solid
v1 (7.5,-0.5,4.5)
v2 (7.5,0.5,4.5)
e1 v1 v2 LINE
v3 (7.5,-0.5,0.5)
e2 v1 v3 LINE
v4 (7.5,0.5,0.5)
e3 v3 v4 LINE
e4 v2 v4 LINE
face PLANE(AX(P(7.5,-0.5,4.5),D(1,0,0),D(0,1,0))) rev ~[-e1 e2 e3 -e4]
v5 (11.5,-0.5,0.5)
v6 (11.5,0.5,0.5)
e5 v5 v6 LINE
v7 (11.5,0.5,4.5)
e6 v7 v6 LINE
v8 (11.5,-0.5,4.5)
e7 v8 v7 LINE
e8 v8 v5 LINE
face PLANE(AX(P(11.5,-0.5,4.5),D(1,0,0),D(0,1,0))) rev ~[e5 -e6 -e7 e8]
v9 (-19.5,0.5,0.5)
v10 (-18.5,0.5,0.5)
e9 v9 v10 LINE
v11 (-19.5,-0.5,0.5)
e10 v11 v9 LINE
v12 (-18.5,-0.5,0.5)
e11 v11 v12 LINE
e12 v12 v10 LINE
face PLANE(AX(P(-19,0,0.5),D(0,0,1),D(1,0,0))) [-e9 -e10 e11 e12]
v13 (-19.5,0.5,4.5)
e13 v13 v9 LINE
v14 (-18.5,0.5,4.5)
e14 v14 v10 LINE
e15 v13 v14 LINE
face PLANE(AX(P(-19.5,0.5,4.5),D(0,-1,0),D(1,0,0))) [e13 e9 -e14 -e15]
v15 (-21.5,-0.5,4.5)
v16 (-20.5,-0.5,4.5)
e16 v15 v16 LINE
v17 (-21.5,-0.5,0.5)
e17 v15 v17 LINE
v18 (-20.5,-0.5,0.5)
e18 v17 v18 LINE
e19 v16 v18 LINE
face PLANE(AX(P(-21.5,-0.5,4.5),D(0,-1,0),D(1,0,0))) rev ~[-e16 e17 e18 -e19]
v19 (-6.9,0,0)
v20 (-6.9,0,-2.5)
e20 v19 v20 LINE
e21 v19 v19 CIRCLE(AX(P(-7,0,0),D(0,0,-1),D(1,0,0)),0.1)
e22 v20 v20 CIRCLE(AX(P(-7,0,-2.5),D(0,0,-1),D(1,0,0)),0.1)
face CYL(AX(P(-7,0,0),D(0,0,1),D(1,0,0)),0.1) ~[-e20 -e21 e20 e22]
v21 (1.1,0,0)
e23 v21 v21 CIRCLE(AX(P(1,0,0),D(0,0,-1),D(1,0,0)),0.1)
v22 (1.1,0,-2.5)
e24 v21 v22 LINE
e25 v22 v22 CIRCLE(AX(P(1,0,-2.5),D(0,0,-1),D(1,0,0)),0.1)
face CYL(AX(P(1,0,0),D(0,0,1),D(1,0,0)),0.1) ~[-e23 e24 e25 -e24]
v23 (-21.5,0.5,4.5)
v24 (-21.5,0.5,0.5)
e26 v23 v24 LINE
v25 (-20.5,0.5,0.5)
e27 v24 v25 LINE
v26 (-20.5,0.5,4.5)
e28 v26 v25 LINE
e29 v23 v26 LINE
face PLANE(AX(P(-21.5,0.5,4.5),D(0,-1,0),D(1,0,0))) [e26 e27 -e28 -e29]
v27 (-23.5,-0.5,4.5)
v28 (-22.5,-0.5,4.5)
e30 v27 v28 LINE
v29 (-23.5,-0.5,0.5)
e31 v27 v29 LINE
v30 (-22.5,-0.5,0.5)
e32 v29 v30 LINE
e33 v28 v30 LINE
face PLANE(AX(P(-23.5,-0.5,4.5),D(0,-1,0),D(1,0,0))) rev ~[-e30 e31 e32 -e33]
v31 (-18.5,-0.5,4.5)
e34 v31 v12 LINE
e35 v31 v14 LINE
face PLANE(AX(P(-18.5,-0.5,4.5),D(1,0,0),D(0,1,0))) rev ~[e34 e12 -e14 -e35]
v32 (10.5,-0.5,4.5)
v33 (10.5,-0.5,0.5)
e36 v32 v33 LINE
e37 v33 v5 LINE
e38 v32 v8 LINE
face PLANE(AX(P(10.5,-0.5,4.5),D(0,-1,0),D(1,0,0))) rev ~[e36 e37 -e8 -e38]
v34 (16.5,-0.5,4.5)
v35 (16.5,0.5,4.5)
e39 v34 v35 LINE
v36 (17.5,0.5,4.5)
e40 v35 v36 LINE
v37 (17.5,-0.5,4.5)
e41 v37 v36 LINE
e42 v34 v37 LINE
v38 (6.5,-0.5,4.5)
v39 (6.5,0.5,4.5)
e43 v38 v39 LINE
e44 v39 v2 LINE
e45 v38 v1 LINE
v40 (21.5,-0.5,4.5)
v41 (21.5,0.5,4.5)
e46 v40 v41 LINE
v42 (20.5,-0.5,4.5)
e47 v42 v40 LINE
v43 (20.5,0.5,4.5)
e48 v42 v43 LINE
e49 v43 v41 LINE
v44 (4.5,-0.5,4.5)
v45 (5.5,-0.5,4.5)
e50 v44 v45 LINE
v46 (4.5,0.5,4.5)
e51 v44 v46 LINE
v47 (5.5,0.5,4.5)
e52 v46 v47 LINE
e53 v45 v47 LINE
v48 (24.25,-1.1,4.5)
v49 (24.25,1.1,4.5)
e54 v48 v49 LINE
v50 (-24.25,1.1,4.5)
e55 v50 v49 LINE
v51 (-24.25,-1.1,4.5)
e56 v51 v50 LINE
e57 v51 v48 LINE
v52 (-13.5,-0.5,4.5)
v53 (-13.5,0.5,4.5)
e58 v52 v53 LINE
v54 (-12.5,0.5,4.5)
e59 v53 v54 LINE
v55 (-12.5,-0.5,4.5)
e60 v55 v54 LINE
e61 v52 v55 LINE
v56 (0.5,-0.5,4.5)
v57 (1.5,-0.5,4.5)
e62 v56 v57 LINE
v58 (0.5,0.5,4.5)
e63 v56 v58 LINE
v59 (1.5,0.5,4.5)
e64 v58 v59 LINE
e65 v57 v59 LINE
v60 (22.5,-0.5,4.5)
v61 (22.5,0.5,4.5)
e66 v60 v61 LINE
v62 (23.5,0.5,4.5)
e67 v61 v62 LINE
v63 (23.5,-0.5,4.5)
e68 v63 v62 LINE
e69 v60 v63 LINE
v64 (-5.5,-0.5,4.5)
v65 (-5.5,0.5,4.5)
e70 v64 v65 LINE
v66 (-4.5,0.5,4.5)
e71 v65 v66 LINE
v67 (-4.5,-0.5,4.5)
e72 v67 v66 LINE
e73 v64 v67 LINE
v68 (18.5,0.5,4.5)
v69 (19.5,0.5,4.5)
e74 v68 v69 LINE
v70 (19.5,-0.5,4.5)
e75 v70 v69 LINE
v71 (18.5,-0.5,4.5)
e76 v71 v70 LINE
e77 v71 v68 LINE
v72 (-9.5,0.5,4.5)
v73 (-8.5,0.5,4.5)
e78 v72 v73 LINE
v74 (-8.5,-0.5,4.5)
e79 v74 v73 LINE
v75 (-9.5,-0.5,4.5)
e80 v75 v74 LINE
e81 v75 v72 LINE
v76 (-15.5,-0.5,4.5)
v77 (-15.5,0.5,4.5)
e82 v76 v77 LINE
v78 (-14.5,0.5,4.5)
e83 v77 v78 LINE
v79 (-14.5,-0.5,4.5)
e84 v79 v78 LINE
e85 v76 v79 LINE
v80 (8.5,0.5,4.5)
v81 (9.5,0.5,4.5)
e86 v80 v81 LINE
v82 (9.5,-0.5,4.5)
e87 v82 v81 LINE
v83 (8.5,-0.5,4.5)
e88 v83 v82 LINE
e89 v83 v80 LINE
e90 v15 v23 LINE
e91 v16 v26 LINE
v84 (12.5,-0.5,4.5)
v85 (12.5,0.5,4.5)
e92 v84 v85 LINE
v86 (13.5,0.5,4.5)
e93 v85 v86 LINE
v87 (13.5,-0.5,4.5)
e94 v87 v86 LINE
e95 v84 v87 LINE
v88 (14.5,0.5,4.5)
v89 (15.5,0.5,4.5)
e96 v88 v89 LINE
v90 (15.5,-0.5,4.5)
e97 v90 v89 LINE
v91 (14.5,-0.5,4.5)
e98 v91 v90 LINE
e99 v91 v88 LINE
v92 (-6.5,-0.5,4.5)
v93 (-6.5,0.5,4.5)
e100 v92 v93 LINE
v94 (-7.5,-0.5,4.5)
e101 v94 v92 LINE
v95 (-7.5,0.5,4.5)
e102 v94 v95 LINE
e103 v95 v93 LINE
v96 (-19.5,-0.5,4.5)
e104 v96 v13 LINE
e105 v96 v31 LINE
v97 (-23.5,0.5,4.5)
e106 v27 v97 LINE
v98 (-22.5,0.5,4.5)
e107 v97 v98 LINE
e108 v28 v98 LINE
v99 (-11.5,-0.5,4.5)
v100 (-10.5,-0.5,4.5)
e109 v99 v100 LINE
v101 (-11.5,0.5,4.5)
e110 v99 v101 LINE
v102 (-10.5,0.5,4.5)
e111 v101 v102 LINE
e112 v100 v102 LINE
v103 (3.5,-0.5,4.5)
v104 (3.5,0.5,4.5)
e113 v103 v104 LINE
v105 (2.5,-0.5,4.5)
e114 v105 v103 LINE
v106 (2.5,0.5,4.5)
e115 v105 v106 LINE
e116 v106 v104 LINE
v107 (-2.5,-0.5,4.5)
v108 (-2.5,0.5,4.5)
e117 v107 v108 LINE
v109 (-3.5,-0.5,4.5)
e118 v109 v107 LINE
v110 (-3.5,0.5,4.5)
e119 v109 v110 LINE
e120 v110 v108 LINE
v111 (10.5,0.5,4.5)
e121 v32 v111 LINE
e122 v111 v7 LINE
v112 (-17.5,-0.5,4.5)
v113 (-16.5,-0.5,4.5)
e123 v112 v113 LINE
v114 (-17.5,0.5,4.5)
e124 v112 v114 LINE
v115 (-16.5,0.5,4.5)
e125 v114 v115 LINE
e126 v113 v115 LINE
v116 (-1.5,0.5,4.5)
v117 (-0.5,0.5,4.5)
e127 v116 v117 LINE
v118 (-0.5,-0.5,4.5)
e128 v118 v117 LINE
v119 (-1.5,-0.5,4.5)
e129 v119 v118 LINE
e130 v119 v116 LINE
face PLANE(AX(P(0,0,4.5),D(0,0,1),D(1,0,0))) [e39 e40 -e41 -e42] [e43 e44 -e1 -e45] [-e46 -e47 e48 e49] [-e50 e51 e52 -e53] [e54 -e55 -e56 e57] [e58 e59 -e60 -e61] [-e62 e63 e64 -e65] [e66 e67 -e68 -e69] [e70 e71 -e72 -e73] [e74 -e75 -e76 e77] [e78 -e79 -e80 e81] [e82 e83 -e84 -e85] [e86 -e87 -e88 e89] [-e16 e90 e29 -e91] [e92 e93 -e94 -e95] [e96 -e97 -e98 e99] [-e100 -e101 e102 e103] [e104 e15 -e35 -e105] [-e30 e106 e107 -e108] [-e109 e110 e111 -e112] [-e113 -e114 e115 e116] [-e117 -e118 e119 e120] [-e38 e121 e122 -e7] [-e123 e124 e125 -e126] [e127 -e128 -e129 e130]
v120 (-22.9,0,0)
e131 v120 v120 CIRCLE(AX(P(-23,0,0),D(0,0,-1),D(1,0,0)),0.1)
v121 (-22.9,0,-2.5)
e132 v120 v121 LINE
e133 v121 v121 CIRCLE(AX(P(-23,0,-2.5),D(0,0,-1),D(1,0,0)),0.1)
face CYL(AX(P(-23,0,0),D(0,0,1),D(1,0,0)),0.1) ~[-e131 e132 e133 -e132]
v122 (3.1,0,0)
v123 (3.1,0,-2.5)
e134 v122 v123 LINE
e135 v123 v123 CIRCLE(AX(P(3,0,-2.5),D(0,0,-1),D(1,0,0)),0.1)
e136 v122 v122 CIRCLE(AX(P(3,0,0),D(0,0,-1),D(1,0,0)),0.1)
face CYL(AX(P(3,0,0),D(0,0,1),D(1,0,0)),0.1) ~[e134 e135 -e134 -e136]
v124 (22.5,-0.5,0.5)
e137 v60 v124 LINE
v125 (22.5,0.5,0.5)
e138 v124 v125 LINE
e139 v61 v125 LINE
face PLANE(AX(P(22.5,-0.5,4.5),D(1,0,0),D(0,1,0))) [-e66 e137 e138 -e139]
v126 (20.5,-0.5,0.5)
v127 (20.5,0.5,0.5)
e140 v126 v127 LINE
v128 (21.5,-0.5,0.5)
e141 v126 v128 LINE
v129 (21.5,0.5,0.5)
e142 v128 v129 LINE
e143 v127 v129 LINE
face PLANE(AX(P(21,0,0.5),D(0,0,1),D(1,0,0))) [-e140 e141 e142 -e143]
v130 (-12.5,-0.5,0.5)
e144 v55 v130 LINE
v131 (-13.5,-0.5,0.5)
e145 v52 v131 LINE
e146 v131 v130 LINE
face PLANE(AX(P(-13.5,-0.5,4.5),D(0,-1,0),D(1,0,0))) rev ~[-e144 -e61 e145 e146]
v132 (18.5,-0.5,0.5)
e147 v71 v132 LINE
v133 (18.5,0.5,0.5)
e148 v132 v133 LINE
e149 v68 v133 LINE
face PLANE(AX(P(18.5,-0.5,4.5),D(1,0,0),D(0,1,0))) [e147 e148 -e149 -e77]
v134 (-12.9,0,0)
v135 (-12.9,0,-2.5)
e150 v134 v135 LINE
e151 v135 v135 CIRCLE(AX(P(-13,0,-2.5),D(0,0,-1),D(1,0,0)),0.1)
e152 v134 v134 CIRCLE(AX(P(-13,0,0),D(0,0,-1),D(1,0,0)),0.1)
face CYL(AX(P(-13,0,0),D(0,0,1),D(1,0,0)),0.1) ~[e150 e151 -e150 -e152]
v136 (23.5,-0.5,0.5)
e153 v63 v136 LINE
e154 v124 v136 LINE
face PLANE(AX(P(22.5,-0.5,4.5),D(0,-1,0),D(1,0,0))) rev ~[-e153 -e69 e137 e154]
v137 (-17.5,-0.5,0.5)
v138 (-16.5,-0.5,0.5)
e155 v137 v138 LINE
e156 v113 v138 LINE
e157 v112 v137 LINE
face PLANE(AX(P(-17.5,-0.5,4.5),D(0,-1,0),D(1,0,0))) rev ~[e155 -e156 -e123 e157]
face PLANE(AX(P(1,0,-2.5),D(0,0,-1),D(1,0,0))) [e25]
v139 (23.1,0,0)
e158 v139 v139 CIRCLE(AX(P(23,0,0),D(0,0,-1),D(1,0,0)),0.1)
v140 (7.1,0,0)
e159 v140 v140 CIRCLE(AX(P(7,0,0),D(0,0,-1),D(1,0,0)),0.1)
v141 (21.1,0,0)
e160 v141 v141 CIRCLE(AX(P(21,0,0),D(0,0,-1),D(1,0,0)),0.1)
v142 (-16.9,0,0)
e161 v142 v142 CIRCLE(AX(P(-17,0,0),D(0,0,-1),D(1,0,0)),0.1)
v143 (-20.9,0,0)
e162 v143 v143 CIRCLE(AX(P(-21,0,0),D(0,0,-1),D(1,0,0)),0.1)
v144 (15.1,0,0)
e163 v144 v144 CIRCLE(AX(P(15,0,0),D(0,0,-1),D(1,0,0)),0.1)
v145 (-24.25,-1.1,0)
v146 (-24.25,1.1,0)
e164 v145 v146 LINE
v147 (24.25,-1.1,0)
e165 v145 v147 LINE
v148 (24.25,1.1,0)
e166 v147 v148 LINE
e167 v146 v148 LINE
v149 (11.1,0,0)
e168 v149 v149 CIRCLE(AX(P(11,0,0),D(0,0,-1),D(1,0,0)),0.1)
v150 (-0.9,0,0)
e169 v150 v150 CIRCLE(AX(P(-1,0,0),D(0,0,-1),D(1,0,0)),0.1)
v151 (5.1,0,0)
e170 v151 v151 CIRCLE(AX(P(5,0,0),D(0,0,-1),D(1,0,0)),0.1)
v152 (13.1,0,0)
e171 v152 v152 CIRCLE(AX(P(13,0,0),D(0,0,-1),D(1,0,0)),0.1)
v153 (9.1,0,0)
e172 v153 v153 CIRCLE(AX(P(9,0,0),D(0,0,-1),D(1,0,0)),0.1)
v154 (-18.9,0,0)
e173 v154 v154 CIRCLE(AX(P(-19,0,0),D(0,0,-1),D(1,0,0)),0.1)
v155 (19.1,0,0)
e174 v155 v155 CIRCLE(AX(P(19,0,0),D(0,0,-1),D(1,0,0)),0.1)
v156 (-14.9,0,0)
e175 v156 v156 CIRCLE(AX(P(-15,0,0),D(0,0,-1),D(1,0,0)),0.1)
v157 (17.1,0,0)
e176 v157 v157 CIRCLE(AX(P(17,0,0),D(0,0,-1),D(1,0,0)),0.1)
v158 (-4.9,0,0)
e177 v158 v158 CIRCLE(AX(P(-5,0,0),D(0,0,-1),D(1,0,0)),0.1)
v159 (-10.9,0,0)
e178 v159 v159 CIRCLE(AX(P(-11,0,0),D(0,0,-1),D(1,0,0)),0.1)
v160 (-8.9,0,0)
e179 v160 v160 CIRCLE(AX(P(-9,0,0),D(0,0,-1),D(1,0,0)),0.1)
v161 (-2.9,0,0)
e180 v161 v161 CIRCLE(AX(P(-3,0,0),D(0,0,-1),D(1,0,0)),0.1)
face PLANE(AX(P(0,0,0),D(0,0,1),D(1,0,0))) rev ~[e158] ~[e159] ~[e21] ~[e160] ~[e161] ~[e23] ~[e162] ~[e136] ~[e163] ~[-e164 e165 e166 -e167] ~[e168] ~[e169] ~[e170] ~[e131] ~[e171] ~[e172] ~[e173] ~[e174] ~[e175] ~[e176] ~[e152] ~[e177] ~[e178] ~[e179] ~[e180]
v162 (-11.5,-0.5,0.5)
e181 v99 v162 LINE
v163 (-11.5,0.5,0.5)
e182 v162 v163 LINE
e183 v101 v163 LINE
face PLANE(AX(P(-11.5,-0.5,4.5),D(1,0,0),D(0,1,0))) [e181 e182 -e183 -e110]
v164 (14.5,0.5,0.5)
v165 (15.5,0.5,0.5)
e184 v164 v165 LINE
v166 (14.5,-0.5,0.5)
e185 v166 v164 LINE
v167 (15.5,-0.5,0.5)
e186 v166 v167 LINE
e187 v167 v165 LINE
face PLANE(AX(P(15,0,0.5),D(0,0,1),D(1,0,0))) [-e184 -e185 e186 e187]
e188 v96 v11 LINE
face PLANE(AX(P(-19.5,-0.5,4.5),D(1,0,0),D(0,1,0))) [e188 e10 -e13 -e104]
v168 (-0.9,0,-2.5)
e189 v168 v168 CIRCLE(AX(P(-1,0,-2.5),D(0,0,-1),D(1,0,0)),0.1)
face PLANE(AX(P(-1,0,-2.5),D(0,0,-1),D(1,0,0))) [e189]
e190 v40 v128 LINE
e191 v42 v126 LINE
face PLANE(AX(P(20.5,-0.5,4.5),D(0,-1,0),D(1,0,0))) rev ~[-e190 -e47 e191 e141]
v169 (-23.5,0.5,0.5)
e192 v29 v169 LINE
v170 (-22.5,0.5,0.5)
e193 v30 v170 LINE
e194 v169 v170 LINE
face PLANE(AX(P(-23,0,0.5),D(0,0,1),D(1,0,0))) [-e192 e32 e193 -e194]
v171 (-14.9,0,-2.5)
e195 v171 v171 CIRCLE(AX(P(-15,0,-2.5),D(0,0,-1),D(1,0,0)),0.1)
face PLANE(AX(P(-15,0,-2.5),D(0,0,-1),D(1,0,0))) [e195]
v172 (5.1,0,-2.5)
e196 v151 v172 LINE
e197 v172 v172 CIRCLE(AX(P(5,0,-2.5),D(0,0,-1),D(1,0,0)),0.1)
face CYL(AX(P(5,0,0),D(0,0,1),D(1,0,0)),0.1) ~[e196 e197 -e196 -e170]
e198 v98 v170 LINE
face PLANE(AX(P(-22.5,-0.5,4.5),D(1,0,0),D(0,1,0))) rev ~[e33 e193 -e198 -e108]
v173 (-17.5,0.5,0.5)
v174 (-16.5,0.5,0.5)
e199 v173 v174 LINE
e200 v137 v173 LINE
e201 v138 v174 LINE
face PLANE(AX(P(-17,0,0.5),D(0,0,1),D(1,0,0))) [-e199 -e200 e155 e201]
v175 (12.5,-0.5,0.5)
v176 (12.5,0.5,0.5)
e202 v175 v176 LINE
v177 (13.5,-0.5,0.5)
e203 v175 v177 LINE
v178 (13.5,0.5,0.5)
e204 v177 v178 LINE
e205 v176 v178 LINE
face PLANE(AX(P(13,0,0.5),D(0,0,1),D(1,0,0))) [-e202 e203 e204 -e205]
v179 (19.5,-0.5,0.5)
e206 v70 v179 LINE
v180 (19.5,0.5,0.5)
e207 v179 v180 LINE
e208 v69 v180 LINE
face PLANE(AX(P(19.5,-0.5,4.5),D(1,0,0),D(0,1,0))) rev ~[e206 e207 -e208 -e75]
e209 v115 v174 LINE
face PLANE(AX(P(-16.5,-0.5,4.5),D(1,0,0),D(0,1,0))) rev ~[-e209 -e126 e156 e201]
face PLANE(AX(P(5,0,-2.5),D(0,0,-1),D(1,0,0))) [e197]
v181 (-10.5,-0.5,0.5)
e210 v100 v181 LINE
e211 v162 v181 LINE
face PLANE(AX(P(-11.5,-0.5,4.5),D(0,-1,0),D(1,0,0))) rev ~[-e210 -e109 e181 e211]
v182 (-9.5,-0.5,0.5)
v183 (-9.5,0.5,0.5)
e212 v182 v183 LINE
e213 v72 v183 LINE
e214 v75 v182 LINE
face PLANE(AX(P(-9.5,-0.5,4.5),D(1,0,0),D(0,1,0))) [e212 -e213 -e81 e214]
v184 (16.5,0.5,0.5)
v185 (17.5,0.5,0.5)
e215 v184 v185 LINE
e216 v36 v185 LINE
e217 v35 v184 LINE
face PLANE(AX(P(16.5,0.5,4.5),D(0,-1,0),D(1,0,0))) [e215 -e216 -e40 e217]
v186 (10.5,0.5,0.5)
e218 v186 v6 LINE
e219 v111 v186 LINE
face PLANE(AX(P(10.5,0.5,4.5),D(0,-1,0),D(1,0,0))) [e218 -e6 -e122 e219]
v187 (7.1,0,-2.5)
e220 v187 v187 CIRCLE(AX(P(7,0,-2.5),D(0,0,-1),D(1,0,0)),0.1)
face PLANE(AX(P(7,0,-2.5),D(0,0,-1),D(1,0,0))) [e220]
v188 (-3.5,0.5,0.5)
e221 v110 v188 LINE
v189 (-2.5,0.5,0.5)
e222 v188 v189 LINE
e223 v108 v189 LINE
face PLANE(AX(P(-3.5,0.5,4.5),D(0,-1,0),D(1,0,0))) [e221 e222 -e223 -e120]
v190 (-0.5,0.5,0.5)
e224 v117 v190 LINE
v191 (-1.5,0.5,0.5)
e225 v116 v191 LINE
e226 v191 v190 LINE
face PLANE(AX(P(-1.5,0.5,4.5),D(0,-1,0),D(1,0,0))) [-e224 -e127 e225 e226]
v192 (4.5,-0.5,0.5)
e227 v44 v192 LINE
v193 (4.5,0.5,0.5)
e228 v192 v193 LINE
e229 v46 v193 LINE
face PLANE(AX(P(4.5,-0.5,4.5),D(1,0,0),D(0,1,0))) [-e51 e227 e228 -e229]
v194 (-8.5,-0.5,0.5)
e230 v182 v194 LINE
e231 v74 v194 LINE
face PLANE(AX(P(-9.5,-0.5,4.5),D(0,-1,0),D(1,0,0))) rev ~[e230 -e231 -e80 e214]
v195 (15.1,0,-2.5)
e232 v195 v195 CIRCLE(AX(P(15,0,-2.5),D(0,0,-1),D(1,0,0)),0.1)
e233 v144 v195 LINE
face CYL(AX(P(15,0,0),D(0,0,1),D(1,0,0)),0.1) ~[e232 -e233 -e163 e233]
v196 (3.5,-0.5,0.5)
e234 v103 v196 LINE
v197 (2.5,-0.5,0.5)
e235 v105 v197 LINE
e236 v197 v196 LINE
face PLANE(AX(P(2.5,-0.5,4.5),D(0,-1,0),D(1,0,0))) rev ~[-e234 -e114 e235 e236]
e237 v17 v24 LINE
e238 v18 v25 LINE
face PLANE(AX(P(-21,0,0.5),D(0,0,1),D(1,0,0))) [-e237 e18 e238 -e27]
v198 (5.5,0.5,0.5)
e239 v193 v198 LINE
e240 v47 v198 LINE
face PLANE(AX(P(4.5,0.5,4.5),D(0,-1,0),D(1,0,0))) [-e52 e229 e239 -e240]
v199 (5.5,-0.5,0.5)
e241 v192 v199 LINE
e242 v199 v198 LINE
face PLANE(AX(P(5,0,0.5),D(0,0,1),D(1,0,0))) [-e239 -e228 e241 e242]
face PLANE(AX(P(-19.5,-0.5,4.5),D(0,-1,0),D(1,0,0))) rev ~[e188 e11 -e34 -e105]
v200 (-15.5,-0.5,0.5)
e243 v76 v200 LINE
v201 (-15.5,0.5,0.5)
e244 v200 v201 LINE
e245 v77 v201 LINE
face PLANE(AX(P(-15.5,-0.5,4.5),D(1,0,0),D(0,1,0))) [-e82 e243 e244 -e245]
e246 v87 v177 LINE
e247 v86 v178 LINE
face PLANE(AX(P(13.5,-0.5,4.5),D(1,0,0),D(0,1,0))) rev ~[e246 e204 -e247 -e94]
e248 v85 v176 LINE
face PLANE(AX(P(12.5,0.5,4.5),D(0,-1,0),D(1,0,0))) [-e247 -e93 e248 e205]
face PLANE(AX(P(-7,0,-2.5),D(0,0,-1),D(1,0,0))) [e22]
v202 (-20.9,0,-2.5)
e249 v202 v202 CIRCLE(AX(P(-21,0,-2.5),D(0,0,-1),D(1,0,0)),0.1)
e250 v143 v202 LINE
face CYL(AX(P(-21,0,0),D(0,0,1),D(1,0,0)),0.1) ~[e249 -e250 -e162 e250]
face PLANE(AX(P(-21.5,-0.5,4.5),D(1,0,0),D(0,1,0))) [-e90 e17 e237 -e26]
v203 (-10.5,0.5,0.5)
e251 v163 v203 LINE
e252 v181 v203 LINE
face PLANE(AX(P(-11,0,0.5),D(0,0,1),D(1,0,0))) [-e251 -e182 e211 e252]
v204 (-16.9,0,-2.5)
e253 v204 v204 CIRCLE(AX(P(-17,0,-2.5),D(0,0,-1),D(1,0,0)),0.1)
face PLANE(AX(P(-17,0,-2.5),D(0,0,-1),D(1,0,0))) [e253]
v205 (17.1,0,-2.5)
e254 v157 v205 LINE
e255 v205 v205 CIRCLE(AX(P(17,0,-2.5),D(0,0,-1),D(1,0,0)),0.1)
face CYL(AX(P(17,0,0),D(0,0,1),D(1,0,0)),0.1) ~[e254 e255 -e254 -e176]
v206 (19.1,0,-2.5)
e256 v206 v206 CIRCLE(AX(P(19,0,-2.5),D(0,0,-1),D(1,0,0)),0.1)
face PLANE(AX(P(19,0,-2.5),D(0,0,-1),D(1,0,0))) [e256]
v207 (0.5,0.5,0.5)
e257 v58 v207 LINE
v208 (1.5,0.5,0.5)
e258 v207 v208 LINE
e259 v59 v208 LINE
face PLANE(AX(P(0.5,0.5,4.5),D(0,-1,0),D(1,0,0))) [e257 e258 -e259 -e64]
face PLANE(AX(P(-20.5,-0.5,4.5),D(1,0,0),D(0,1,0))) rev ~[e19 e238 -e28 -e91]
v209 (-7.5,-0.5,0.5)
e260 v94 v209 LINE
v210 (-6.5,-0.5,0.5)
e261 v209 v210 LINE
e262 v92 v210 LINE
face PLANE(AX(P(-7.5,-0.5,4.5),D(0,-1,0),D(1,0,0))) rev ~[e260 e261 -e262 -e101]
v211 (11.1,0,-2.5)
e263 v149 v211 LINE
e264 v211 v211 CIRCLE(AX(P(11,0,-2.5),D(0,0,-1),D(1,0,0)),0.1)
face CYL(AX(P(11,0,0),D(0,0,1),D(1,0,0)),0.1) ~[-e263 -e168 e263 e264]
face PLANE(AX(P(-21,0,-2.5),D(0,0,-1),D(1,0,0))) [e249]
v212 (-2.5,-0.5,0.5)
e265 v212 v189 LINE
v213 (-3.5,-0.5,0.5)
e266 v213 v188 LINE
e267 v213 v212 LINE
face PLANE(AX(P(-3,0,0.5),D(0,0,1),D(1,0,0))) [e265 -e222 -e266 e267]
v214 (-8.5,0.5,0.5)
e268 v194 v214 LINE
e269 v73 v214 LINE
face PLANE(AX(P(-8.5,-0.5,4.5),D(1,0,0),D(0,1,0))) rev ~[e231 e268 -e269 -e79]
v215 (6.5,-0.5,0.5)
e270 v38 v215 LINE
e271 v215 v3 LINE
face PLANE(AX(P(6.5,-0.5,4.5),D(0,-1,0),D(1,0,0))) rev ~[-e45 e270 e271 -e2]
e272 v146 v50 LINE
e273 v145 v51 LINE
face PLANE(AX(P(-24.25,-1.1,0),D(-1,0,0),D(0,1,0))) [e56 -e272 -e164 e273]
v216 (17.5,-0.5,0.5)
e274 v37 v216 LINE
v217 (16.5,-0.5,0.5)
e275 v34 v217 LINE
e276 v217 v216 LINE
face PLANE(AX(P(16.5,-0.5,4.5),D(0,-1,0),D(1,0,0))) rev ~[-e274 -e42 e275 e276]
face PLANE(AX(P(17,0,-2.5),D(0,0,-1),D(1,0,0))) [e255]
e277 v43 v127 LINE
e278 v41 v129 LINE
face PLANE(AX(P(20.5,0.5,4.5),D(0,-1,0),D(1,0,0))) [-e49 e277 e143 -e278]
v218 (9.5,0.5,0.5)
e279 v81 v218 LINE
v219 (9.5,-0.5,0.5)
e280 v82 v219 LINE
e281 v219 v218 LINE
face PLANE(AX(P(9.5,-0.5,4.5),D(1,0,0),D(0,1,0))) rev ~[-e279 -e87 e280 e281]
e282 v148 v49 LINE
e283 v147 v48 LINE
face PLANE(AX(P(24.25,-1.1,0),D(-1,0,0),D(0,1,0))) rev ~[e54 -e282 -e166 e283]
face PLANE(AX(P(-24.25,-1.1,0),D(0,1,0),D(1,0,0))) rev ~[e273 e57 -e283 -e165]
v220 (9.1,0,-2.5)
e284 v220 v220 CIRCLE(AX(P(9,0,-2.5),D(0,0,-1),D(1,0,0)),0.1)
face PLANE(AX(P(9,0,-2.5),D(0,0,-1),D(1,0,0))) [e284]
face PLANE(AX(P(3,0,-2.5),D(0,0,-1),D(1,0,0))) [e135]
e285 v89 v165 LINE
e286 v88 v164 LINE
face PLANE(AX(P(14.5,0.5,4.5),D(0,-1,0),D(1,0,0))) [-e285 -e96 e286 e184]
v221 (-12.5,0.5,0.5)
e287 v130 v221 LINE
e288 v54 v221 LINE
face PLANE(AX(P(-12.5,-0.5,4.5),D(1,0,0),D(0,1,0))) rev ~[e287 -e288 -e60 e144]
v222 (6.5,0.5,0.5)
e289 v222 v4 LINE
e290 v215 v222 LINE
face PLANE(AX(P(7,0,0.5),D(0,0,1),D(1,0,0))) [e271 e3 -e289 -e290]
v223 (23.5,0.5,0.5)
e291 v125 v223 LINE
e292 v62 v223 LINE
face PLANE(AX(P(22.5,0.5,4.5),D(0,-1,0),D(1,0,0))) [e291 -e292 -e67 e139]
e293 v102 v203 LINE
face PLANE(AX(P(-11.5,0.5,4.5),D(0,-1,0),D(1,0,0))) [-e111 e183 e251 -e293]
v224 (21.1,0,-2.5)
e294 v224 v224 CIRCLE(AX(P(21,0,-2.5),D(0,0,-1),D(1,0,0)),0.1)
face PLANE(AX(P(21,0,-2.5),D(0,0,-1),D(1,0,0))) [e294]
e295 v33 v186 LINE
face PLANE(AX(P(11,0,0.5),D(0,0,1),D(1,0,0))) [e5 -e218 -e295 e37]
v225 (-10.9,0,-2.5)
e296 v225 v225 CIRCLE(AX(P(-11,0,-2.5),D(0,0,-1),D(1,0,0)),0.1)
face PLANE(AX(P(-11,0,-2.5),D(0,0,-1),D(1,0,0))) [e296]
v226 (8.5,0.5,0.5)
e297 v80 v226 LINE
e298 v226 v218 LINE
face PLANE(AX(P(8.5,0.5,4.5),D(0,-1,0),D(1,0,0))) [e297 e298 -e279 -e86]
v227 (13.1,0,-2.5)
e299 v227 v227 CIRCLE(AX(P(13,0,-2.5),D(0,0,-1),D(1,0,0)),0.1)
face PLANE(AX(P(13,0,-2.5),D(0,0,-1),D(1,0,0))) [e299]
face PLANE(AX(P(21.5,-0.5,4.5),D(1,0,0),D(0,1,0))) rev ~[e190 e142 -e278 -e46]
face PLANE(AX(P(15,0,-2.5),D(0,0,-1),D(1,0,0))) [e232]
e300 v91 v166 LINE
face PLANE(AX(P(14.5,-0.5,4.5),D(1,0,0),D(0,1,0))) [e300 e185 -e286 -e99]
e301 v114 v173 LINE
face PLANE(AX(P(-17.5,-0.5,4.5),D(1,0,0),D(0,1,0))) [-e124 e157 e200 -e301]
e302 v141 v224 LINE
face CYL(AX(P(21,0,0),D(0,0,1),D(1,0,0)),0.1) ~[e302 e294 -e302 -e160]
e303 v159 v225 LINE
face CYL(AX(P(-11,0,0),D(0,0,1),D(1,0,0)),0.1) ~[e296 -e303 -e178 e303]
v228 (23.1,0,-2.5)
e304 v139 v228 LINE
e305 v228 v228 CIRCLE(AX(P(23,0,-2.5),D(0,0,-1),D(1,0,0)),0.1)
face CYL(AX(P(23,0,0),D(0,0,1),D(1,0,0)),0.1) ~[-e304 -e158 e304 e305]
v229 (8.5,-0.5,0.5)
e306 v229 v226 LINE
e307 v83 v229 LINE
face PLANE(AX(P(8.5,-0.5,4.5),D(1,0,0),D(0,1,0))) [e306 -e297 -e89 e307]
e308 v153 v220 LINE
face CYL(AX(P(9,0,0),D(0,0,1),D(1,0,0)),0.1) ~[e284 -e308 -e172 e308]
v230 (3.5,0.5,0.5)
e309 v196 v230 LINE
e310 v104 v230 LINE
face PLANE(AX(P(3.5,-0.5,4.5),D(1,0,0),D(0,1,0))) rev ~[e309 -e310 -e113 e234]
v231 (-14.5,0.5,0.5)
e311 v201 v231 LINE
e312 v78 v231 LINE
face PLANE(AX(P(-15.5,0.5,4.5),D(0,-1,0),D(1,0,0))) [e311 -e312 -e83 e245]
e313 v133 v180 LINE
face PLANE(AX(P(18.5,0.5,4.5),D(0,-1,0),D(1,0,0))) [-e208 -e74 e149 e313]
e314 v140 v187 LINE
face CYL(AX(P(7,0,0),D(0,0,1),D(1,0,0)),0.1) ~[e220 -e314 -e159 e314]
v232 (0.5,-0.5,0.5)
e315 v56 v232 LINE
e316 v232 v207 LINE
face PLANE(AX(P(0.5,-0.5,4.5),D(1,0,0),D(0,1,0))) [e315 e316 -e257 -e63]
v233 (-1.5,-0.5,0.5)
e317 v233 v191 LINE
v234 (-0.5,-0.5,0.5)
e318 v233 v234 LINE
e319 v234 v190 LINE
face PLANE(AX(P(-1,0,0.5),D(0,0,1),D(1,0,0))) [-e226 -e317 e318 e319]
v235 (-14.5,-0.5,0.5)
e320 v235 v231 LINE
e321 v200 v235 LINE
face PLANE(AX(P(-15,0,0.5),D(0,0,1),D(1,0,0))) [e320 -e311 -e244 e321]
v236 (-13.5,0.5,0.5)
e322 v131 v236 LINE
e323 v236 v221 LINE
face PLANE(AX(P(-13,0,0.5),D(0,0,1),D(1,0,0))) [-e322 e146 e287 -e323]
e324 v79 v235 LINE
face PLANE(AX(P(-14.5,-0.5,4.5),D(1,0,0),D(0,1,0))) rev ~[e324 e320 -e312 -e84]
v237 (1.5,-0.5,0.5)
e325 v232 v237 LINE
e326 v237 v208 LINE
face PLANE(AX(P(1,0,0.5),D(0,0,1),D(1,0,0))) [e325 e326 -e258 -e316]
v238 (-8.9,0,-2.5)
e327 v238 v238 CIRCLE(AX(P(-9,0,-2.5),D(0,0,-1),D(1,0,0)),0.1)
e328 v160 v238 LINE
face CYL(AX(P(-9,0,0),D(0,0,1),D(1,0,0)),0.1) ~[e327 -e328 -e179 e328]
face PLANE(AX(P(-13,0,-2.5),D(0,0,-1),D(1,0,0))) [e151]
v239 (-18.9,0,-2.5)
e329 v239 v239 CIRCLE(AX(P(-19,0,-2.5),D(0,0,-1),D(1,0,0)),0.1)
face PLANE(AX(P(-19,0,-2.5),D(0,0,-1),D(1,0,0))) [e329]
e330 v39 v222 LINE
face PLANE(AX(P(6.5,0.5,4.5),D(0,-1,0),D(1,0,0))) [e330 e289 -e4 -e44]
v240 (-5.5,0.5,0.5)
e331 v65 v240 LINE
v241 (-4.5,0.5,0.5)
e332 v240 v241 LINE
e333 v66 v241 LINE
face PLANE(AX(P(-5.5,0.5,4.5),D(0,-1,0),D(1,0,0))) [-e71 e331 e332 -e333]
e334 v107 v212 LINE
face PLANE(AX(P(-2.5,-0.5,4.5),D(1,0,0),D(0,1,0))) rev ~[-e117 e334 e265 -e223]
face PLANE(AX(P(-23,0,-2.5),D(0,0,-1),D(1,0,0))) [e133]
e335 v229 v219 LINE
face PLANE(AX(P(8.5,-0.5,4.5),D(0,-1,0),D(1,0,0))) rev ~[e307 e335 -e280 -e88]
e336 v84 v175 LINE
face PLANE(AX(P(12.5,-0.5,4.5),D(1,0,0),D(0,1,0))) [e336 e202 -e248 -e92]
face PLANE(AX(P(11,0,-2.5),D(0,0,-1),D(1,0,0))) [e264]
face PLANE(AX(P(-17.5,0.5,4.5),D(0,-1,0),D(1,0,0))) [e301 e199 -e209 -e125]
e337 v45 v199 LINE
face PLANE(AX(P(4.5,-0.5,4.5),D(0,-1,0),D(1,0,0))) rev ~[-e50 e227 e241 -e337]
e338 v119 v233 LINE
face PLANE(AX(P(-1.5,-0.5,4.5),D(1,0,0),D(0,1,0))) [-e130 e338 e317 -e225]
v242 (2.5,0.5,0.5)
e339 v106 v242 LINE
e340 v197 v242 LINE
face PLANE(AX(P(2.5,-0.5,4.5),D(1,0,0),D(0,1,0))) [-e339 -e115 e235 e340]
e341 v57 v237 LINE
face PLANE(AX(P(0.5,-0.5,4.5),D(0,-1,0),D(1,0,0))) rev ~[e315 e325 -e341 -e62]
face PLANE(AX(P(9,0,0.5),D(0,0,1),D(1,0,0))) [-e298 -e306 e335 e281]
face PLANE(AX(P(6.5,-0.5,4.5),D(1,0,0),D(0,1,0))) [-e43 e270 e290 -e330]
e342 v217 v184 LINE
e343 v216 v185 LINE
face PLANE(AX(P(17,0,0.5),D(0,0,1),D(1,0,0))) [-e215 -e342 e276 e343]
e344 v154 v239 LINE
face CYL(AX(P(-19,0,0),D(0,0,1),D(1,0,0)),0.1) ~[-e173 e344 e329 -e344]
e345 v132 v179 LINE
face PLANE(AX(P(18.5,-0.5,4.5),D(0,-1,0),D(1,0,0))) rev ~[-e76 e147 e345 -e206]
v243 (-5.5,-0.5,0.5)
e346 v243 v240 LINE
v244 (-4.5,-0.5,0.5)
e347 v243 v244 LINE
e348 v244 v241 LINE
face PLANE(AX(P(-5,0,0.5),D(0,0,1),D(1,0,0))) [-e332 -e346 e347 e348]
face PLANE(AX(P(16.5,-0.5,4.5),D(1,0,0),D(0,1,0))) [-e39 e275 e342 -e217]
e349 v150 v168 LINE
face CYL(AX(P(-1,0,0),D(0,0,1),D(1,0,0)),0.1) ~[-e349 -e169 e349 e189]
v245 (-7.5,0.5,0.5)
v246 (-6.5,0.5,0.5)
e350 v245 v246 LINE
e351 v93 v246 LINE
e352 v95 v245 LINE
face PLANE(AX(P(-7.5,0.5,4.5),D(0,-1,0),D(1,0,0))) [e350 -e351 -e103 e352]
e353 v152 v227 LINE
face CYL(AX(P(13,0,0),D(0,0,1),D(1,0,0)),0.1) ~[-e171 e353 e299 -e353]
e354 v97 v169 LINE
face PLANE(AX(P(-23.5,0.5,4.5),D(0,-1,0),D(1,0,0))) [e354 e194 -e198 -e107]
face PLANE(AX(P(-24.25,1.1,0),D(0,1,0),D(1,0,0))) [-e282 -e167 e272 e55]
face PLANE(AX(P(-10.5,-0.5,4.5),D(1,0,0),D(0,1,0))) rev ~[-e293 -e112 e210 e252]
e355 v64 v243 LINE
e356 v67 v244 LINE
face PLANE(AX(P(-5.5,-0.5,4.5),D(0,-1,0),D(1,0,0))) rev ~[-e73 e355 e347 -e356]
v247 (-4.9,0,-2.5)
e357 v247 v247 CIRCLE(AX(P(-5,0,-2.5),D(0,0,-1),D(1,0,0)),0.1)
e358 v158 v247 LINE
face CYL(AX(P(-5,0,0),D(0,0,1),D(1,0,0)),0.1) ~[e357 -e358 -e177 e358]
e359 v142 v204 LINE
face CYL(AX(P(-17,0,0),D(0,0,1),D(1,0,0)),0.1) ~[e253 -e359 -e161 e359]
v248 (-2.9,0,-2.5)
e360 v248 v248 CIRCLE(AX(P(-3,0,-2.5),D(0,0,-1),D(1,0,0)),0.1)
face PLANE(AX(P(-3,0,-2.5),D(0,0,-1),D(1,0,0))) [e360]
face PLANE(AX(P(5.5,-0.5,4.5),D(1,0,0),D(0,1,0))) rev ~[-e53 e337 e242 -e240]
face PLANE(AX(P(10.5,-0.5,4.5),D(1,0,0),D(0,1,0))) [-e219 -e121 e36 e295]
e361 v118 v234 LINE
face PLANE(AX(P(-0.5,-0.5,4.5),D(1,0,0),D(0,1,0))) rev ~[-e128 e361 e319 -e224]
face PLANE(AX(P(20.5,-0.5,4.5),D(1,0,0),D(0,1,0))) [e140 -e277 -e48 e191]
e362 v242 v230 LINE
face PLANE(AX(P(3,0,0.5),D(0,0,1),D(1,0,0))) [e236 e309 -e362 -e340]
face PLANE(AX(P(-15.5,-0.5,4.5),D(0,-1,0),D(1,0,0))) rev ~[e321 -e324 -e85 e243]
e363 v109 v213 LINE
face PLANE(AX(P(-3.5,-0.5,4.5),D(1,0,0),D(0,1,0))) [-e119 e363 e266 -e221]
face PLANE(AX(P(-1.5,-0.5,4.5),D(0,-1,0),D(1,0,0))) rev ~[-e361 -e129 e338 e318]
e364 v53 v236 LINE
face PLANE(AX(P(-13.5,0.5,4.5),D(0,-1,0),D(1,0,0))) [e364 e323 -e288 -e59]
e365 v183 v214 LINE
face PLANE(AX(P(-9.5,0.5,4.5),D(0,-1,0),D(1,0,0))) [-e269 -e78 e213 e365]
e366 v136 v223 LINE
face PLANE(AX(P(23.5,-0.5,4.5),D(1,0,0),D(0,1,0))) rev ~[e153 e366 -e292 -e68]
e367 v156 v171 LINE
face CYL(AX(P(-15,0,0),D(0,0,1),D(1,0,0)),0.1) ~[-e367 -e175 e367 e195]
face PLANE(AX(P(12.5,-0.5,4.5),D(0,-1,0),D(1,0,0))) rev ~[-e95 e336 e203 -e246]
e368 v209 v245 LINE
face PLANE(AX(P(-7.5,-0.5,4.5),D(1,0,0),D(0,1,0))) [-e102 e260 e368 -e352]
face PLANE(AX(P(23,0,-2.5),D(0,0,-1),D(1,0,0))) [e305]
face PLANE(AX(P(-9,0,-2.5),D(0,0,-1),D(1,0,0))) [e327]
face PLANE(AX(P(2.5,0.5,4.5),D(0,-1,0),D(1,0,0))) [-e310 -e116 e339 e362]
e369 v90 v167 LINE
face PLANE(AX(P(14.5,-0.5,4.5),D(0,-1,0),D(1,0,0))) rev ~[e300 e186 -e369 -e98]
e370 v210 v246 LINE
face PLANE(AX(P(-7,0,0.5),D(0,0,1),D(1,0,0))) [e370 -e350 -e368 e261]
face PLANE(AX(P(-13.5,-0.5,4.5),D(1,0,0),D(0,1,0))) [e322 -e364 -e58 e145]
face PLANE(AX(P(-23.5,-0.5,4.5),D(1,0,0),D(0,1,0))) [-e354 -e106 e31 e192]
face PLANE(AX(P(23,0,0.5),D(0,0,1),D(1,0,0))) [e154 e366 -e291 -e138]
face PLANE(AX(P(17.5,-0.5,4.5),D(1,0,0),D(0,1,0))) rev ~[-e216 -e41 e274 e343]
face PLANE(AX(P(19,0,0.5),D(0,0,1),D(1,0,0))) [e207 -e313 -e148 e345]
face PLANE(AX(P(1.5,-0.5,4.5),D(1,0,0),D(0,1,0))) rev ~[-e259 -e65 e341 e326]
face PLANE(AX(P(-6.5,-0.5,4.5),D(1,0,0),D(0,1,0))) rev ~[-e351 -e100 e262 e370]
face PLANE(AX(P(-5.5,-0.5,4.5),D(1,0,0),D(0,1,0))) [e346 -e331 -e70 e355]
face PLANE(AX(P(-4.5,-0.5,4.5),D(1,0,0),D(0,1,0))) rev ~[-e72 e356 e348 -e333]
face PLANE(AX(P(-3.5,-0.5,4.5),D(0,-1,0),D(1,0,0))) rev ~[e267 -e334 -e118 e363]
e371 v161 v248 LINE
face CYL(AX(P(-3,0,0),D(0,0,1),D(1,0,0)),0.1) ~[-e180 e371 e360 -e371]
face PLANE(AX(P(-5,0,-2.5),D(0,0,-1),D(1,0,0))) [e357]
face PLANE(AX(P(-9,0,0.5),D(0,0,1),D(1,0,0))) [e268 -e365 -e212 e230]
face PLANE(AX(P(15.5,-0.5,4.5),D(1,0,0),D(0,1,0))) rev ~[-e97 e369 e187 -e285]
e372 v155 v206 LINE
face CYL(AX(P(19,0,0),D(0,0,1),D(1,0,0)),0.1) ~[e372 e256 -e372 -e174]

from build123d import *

# Parameters (mm, degrees)
F0_W     = 48.5
F0_H     = 2.2
F1_DEPTH = 4.5
F2_W     = 1
F2_H     = 1
F3_DEPTH = 4
F4_R     = 0.1
F5_DEPTH = 2.5


with BuildPart() as f1:
    # F0 (on Top) → F1 (new body)
    with BuildSketch(Plane.XY):
        Rectangle(F0_W, F0_H)
    extrude(amount=F1_DEPTH)

    # F2 (on face) → F3 (cut)
    with BuildSketch(Plane.XY.offset(4.5)):
        with Locations((23, 0)):
            Rectangle(F2_W, F2_H)
        with Locations((21, 0)):
            Rectangle(F2_W, F2_H)
        with Locations((19, 0)):
            Rectangle(F2_W, F2_H)
        with Locations((17, 0)):
            Rectangle(F2_W, F2_H)
        with Locations((15, 0)):
            Rectangle(F2_W, F2_H)
        with Locations((13, 0)):
            Rectangle(F2_W, F2_H)
        with Locations((11, 0)):
            Rectangle(F2_W, F2_H)
        with Locations((9, 0)):
            Rectangle(F2_W, F2_H)
        with Locations((7, 0)):
            Rectangle(F2_W, F2_H)
        with Locations((5, 0)):
            Rectangle(F2_W, F2_H)
        with Locations((3, 0)):
            Rectangle(F2_W, F2_H)
        with Locations((1, 0)):
            Rectangle(F2_W, F2_H)
        with Locations((-1, 0)):
            Rectangle(F2_W, F2_H)
        with Locations((-3, 0)):
            Rectangle(F2_W, F2_H)
        with Locations((-5, 0)):
            Rectangle(F2_W, F2_H)
        with Locations((-7, 0)):
            Rectangle(F2_W, F2_H)
        with Locations((-9, 0)):
            Rectangle(F2_W, F2_H)
        with Locations((-11, 0)):
            Rectangle(F2_W, F2_H)
        with Locations((-13, 0)):
            Rectangle(F2_W, F2_H)
        with Locations((-15, 0)):
            Rectangle(F2_W, F2_H)
        with Locations((-17, 0)):
            Rectangle(F2_W, F2_H)
        with Locations((-19, 0)):
            Rectangle(F2_W, F2_H)
        with Locations((-21, 0)):
            Rectangle(F2_W, F2_H)
        with Locations((-23, 0)):
            Rectangle(F2_W, F2_H)
    extrude(amount=-F3_DEPTH, mode=Mode.SUBTRACT)

    # F4 (on face) → F5 (join)
    with BuildSketch(Plane(origin=(0, 0, 0), x_dir=(1, 0, 0), z_dir=(0, 0, -1))):
        with Locations((23, 0)):
            Circle(F4_R)
        with Locations((21, 0)):
            Circle(F4_R)
        with Locations((19, 0)):
            Circle(F4_R)
        with Locations((17, 0)):
            Circle(F4_R)
        with Locations((15, 0)):
            Circle(F4_R)
        with Locations((13, 0)):
            Circle(F4_R)
        with Locations((11, 0)):
            Circle(F4_R)
        with Locations((9, 0)):
            Circle(F4_R)
        with Locations((7, 0)):
            Circle(F4_R)
        with Locations((5, 0)):
            Circle(F4_R)
        with Locations((3, 0)):
            Circle(F4_R)
        with Locations((1, 0)):
            Circle(F4_R)
        with Locations((-1, 0)):
            Circle(F4_R)
        with Locations((-3, 0)):
            Circle(F4_R)
        with Locations((-5, 0)):
            Circle(F4_R)
        with Locations((-7, 0)):
            Circle(F4_R)
        with Locations((-9, 0)):
            Circle(F4_R)
        with Locations((-11, 0)):
            Circle(F4_R)
        with Locations((-13, 0)):
            Circle(F4_R)
        with Locations((-15, 0)):
            Circle(F4_R)
        with Locations((-17, 0)):
            Circle(F4_R)
        with Locations((-19, 0)):
            Circle(F4_R)
        with Locations((-21, 0)):
            Circle(F4_R)
        with Locations((-23, 0)):
            Circle(F4_R)
    extrude(amount=F5_DEPTH)


solid = f1.part
